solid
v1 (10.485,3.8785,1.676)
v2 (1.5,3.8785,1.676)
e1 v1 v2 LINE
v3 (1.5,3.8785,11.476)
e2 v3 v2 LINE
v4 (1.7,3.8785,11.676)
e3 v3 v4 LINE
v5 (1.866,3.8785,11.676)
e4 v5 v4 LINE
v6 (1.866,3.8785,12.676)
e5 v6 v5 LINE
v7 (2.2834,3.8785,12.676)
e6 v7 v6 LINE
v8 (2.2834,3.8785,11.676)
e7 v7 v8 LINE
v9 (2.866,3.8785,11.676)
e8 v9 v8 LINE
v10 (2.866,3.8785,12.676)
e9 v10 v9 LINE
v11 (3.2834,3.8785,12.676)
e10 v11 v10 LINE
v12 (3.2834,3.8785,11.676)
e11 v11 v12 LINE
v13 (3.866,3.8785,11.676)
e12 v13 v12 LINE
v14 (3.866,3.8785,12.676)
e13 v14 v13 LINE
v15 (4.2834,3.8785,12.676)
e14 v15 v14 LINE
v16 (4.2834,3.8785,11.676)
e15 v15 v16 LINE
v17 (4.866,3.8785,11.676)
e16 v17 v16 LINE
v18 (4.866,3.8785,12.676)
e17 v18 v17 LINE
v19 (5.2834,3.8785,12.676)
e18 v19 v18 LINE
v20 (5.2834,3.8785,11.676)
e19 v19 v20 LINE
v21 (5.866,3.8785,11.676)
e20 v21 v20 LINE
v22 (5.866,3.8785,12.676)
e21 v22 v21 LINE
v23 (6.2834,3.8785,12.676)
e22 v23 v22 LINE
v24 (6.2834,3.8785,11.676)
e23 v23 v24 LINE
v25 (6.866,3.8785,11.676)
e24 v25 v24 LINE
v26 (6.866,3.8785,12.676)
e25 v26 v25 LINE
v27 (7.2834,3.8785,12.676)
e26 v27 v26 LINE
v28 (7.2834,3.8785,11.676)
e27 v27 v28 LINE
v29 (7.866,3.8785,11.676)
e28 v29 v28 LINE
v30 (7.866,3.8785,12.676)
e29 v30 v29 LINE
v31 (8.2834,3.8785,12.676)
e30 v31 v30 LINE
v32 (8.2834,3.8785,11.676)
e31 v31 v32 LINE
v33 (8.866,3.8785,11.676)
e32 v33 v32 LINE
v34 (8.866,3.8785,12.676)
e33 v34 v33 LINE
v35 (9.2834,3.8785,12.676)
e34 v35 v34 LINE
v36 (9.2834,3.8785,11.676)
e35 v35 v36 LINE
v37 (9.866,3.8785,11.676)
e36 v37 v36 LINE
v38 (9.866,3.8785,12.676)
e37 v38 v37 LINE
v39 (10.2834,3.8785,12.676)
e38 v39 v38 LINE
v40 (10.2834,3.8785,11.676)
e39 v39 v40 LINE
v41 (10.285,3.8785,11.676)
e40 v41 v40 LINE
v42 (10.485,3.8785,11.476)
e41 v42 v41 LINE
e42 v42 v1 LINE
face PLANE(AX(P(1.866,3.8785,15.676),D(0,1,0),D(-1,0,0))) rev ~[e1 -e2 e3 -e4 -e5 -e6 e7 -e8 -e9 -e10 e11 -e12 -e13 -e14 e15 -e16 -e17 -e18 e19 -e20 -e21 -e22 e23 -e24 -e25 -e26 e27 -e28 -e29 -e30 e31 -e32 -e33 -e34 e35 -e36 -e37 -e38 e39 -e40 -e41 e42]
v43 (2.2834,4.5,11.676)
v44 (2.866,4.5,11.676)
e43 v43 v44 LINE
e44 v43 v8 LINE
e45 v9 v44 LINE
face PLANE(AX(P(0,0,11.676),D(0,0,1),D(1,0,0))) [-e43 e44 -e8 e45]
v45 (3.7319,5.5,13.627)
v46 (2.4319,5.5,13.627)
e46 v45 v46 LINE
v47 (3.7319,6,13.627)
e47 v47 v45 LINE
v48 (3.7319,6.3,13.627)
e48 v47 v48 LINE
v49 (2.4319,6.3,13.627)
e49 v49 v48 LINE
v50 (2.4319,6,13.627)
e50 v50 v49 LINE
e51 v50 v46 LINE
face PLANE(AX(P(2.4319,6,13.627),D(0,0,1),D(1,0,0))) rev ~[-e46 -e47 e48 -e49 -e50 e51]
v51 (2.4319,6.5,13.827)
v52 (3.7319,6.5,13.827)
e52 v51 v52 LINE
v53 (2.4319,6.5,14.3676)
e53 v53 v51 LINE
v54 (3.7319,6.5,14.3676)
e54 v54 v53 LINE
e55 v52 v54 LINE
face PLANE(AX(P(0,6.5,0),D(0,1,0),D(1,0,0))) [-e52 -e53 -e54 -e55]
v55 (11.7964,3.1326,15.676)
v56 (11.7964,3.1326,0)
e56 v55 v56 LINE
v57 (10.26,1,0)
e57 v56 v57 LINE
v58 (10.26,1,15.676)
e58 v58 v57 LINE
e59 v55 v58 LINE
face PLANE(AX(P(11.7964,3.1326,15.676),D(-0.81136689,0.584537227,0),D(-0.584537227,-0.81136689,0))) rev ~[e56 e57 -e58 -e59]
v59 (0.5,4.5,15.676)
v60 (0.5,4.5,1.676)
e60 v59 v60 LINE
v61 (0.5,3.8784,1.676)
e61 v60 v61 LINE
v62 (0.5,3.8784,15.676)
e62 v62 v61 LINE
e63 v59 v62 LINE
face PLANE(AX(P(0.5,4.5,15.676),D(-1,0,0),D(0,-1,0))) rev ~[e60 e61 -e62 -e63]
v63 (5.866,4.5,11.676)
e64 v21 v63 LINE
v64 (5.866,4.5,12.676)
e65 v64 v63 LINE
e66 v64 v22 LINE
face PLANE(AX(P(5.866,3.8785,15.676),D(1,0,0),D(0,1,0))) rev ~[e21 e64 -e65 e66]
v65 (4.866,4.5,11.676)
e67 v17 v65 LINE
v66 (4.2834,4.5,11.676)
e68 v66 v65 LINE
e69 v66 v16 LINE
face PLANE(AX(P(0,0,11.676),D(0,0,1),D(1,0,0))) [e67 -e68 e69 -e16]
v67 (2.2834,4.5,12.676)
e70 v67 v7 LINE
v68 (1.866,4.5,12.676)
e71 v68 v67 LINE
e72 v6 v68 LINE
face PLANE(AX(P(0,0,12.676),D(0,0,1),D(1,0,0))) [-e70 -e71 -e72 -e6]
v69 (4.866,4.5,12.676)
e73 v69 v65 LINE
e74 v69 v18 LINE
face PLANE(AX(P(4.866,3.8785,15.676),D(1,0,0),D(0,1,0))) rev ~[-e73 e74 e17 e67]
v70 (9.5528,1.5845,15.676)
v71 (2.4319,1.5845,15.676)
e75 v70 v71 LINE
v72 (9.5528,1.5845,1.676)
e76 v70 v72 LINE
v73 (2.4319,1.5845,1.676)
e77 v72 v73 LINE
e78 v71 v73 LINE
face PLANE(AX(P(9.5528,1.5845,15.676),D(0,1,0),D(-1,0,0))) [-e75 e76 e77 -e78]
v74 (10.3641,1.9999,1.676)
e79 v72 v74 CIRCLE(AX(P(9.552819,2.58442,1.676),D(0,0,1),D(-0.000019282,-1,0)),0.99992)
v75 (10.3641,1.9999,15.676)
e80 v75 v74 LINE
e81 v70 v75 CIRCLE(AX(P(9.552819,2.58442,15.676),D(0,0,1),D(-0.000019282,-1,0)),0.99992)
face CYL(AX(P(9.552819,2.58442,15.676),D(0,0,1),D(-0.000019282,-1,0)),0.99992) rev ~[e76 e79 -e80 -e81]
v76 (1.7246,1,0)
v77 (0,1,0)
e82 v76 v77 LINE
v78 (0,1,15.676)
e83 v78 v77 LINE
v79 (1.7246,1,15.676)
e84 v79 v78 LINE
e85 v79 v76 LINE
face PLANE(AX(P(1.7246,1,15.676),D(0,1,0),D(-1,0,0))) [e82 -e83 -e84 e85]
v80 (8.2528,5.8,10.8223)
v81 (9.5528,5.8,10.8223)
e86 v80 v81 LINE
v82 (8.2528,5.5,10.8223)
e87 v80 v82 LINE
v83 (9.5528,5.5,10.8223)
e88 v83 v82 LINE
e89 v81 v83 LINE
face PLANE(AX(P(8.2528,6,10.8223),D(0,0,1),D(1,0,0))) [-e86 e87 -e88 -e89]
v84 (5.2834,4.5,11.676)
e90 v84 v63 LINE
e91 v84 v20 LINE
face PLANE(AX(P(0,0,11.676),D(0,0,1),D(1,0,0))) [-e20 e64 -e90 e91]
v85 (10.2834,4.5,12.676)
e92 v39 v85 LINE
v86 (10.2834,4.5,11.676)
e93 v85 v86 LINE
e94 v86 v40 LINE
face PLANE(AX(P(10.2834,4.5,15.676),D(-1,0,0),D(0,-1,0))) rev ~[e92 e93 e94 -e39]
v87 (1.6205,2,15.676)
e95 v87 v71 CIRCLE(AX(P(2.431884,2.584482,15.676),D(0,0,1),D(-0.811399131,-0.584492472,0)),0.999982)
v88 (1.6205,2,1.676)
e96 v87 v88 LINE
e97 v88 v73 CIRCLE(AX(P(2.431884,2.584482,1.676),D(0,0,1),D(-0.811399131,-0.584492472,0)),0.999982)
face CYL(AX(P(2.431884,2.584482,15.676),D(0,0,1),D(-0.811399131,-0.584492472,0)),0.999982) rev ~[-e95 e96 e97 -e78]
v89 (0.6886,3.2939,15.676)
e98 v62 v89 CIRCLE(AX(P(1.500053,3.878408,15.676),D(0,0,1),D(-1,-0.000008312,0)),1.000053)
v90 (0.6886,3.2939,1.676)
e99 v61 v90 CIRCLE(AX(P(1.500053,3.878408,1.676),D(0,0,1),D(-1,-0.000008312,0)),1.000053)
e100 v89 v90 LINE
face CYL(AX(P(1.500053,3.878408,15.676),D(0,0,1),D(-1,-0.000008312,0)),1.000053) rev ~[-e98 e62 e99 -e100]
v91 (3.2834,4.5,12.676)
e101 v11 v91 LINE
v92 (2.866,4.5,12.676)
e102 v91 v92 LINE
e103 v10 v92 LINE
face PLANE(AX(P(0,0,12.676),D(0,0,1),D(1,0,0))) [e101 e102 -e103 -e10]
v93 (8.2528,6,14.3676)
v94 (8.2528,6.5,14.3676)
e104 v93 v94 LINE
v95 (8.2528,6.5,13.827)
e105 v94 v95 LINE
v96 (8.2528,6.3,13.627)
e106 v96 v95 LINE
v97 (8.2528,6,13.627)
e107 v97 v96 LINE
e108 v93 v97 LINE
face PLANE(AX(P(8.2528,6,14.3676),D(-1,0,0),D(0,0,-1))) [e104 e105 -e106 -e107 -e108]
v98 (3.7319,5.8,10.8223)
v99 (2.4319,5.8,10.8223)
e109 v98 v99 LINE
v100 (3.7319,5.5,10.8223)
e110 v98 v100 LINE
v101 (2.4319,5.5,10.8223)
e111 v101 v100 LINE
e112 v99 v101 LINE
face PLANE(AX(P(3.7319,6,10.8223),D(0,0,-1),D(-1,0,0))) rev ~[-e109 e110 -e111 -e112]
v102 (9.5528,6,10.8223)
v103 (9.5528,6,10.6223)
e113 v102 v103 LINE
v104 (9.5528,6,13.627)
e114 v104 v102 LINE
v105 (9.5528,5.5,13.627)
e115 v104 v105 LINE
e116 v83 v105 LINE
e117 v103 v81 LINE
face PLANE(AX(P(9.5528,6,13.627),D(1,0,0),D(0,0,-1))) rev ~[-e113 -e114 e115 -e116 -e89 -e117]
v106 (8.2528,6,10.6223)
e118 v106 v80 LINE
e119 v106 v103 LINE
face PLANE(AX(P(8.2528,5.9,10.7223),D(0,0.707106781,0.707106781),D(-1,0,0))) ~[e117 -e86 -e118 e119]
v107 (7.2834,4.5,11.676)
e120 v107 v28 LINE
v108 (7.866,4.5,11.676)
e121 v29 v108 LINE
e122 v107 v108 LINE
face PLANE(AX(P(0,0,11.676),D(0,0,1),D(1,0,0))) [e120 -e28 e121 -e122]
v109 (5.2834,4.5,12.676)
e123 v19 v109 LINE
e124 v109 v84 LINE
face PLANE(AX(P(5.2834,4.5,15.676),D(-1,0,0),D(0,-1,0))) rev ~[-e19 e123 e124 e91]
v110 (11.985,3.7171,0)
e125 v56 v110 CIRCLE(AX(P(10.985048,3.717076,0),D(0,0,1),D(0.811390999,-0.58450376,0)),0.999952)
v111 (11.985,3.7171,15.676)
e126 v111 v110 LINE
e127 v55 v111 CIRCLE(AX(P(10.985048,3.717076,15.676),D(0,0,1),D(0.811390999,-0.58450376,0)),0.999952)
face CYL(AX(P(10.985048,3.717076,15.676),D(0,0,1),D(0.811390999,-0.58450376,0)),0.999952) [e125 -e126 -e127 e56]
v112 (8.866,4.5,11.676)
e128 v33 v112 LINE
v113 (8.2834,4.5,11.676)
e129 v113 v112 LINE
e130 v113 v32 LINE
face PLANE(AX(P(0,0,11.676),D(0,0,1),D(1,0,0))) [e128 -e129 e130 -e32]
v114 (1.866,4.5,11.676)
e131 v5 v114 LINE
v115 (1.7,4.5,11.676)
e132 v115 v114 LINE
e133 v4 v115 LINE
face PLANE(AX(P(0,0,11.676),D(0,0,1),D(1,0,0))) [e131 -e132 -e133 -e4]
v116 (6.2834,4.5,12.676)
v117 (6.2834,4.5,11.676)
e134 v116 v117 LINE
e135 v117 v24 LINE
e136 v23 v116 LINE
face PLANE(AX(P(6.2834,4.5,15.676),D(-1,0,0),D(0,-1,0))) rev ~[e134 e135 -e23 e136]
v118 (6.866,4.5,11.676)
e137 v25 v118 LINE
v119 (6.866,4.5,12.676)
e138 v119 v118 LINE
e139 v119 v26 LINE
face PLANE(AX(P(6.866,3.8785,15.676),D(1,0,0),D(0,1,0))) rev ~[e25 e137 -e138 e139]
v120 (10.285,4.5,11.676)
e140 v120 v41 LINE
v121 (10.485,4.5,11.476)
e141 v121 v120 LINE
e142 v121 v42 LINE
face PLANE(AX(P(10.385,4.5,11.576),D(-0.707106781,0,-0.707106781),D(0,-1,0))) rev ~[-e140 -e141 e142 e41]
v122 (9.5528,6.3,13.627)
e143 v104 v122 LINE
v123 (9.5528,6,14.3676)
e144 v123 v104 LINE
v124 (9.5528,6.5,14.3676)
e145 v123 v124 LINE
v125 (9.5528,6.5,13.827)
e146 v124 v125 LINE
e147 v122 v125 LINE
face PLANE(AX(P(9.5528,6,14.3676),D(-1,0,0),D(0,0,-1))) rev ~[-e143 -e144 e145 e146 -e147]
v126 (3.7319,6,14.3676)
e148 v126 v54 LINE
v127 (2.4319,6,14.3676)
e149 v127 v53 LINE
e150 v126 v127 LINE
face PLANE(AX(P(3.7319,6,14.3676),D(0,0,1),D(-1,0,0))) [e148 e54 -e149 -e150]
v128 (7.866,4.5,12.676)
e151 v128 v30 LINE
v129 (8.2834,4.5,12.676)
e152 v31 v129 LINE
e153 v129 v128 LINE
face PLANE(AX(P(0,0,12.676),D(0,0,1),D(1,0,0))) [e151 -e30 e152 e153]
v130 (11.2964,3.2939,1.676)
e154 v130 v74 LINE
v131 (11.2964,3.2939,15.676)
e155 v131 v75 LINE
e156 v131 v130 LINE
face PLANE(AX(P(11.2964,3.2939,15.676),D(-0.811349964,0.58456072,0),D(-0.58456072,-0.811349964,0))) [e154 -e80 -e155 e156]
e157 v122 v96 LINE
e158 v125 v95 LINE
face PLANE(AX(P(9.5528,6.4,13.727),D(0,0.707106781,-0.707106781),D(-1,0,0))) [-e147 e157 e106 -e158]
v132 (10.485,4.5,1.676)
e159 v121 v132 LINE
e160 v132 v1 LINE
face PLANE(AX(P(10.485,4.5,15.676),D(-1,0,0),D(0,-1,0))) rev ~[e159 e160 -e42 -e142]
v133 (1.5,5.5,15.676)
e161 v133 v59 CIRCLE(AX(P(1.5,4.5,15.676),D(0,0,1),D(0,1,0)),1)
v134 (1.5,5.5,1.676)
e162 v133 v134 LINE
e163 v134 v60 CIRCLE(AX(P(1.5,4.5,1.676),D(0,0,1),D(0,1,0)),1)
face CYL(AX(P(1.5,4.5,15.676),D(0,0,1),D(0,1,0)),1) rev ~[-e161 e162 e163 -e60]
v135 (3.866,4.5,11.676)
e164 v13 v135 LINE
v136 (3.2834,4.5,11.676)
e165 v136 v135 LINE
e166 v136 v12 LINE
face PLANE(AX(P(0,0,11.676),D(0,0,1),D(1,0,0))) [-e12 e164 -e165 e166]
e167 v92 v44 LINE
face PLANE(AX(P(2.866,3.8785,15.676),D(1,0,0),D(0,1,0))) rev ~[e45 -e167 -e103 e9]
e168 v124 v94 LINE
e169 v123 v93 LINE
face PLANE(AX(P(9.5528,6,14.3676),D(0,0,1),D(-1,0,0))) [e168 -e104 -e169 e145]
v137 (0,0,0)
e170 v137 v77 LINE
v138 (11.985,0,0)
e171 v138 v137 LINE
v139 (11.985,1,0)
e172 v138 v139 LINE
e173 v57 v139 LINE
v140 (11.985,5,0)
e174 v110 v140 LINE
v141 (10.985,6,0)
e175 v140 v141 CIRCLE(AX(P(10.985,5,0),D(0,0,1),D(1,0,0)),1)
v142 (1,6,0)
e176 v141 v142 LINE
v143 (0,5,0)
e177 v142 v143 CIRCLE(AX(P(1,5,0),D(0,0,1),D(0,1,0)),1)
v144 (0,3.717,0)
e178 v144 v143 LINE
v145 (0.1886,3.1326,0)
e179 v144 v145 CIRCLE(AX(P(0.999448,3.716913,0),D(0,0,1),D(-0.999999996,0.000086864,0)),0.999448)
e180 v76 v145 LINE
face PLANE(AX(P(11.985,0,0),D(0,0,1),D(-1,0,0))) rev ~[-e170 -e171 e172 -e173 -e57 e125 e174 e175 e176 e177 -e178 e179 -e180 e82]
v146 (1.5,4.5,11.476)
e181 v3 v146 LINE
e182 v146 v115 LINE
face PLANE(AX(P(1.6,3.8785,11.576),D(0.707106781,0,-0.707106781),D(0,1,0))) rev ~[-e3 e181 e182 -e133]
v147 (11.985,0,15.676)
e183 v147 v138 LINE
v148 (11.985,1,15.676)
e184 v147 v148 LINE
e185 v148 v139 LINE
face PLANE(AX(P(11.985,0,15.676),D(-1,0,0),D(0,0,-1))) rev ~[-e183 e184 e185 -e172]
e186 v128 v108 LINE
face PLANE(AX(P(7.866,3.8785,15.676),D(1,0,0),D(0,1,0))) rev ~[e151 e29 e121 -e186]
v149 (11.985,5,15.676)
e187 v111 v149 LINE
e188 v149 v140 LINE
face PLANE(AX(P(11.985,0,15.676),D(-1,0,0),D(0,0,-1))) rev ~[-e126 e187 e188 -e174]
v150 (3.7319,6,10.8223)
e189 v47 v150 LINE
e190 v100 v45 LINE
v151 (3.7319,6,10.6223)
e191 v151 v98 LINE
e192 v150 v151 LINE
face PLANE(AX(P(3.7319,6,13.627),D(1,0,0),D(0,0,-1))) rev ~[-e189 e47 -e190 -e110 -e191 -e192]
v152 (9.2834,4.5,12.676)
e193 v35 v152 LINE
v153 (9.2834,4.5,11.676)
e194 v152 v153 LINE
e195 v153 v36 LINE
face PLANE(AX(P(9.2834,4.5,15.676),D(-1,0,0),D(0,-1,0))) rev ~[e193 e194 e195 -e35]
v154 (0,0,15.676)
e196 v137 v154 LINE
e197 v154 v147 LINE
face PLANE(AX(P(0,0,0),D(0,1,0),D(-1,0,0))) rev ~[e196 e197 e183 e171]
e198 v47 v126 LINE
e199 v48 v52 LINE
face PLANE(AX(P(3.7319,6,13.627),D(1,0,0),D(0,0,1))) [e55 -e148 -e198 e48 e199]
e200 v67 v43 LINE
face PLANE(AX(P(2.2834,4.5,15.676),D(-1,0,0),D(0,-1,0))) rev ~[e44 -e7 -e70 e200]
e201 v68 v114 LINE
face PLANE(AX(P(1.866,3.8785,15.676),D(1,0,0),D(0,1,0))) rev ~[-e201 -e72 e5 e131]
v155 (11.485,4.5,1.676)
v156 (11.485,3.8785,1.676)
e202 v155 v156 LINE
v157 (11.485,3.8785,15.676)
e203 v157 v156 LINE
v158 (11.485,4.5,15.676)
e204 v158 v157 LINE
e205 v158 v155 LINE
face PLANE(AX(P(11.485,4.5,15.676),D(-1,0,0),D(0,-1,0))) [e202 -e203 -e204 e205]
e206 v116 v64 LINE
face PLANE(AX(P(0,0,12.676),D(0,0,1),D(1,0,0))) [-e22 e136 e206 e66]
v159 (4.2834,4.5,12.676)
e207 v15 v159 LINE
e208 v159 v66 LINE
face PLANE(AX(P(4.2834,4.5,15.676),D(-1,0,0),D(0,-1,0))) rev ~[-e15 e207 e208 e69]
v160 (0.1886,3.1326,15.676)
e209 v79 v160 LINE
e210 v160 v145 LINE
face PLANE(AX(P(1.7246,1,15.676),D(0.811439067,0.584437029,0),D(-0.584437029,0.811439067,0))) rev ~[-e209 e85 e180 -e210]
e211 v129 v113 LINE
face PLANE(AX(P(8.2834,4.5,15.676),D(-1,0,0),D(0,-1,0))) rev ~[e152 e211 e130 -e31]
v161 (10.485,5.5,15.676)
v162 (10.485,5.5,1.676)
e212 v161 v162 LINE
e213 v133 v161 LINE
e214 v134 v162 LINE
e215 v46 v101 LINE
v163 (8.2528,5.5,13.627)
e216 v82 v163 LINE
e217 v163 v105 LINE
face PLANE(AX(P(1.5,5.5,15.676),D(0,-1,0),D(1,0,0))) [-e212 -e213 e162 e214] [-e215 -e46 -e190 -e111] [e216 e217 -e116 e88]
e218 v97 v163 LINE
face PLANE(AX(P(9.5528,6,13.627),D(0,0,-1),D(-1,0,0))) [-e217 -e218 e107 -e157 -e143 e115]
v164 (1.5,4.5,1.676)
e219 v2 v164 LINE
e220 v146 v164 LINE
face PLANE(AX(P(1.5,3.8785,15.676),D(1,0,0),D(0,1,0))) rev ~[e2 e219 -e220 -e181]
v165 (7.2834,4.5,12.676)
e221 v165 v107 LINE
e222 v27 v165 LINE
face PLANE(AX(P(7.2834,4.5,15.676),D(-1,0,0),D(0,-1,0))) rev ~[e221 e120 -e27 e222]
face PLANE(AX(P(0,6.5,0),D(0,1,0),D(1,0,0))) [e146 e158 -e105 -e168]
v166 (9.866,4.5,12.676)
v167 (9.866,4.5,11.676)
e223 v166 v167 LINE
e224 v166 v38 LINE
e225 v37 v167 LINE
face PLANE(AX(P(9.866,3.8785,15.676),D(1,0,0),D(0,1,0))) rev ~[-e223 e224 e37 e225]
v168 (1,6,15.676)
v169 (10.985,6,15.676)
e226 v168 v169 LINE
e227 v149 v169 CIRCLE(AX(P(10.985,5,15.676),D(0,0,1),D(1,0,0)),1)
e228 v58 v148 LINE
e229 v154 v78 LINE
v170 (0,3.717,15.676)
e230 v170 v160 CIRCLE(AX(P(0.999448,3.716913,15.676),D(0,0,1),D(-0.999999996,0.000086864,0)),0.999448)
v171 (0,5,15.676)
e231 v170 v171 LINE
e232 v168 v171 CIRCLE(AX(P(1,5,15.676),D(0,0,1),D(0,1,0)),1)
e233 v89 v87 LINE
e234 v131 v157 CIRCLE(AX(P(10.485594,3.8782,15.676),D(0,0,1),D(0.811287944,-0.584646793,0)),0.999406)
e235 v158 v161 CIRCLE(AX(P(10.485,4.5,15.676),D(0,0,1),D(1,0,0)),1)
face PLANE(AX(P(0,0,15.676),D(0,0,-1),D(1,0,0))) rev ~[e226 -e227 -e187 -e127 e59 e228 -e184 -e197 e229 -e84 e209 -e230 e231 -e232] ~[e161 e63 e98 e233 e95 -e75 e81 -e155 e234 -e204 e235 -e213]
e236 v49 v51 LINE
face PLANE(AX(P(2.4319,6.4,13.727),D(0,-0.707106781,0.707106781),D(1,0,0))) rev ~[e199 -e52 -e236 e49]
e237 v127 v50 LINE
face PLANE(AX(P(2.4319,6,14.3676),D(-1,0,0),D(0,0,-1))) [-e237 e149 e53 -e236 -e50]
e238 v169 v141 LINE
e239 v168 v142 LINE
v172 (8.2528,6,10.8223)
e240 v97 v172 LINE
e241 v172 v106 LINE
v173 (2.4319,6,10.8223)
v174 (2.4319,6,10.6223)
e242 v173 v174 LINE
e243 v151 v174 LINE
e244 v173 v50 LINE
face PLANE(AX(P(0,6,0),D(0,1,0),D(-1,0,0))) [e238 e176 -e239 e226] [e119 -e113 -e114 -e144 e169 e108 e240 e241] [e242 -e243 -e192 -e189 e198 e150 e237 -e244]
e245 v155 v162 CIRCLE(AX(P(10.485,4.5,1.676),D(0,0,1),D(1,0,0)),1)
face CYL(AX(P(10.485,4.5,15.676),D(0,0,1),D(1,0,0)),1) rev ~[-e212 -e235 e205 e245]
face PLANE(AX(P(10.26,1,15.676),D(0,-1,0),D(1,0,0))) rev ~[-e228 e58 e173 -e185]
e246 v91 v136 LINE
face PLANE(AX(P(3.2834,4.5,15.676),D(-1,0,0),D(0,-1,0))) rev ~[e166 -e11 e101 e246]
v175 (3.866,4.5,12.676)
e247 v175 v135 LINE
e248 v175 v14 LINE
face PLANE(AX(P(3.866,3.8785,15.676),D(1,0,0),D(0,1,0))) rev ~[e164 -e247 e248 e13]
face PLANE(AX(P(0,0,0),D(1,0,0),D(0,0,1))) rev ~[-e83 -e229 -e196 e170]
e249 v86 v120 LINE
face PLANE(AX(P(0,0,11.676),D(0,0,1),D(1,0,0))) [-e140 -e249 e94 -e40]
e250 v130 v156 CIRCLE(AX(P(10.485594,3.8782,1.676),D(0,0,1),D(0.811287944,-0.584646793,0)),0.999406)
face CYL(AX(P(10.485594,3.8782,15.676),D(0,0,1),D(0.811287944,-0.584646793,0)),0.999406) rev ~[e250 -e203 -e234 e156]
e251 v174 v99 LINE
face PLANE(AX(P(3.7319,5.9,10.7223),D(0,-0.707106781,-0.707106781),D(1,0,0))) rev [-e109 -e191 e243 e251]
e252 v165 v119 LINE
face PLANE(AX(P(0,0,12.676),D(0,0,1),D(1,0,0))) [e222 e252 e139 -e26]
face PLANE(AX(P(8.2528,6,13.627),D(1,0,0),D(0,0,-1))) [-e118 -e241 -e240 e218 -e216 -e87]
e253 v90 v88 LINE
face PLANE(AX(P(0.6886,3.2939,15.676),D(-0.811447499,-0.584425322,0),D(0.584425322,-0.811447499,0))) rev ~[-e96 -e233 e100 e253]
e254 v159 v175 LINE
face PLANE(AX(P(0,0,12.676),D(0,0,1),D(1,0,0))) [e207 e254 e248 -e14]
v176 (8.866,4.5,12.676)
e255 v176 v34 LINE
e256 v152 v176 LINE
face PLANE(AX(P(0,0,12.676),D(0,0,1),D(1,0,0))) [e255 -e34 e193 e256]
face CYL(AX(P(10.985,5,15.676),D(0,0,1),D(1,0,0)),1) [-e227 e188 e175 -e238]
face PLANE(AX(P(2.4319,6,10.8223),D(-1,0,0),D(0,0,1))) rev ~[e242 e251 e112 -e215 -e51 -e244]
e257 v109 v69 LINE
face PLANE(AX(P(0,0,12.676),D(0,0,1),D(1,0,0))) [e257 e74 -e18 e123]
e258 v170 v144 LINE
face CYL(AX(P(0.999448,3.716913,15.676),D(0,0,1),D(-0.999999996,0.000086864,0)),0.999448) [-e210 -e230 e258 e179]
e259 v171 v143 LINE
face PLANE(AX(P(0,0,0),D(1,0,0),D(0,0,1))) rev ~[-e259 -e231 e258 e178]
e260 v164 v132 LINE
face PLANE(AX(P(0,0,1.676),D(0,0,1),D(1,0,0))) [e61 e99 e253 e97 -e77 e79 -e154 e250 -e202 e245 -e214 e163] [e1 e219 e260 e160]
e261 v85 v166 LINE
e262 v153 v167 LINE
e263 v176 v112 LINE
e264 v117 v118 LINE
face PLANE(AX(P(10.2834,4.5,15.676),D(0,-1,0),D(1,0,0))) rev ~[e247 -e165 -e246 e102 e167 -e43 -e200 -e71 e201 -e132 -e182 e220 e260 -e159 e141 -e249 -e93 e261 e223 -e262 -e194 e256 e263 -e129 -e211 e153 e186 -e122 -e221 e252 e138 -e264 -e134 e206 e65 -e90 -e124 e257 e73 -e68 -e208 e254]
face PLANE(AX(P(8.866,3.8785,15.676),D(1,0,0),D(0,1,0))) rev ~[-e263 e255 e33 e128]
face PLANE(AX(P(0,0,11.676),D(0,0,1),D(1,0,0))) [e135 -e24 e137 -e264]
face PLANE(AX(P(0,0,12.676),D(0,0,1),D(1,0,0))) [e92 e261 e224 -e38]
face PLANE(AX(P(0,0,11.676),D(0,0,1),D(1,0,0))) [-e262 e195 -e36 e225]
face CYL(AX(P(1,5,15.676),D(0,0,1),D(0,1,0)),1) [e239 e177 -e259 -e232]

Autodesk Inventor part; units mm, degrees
ref_plane "YZ Plane" through (0, 0, 0) normal (1, 0, 0) x (0, 1, 0)
ref_plane "XZ Plane" through (0, 0, 0) normal (0, 1, 0) x (-1, 0, 0)
ref_plane "XY Plane" through (0, 0, 0) normal (0, 0, 1) x (1, 0, 0)
sketch "Sketch1" plane through (0, 0, 0) normal (0, 1, 0) x (-1, 0, 0)
  line L0 (0, 0) -> (0, 15.676)
  line L1 (0, 15.676) -> (-11.985, 15.676)
  line L2 (-11.985, 15.676) -> (-11.985, 0)
  line L3 (-11.985, 0) -> (0, 0)
  dimension "d1" = 15.676
  dimension "d2" = 11.985
extrude "Extrusion1" add sketch "Sketch1" along normal blind 6
sketch "Sketch2" plane through (0, 0, 15.676) normal (0, 0, 1) x (1, 0, 0)
  line L0 (11.985, 0) -> (0, 0) projected
  line L1 (0, 0) -> (0, 6) projected
  line L2 (11.985, 0) -> (11.985, 6) projected
  line L3 (1.7246, 1) -> (10.26, 1)
  line L4 (1.7246, 1) -> (0.1886, 3.1326)
  line L5 (11.7964, 3.1326) -> (10.26, 1)
  line L6 (0, 3.717) -> (0, 5)
  line L7 (1, 6) -> (10.985, 6)
  line L8 (11.985, 5) -> (11.985, 3.7171)
  line L9 (1.7246, 1) -> (0, 1)
  line L10 (10.26, 1) -> (11.985, 1)
  arc A0 (1, 6) -> (0, 5) centre (1, 5) ccw
  arc A1 (11.985, 5) -> (10.985, 6) centre (10.985, 5) ccw
  line L11 (1, 6) -> (10.985, 6)
  line L12 (11.985, 6) -> (0, 6) projected
  arc A2 (0, 3.717) -> (0.1886, 3.1326) centre (1, 3.717) ccw
  arc A3 (11.7964, 3.1326) -> (11.985, 3.7171) centre (10.985, 3.7171) ccw
  line L13 (0, 5) -> (0.5, 5)
  arc A4 (1.5, 5.5) -> (0.5, 4.5) centre (1.5, 4.5) ccw
  line L14 (1.5, 5.5) -> (10.485, 5.5)
  arc A5 (11.485, 4.5) -> (10.485, 5.5) centre (10.485, 4.5) ccw
  line L15 (0.5, 4.5) -> (0.5, 3.8784)
  line L16 (0.6886, 3.2939) -> (1.6205, 2)
  arc A6 (0.5, 3.8784) -> (0.6886, 3.2939) centre (1.5, 3.8784) ccw
  line L17 (11.2964, 3.2939) -> (10.3641, 1.9999)
  line L18 (9.5528, 1.5845) -> (2.4319, 1.5845)
  line L19 (11.485, 4.5) -> (11.485, 3.8785)
  arc A7 (11.2964, 3.2939) -> (11.485, 3.8785) centre (10.485, 3.8785) ccw
  arc A8 (1.6205, 2) -> (2.4319, 1.5845) centre (2.4319, 2.5845) ccw
  arc A9 (9.5528, 1.5845) -> (10.3641, 1.9999) centre (9.5528, 2.5845) ccw
  line L20 (1.5, 4.5) -> (10.485, 4.5)
  line L21 (10.485, 4.5) -> (10.485, 3.8785)
  line L22 (10.485, 3.8785) -> (1.5, 3.8785)
  line L23 (1.5, 3.8785) -> (1.5, 4.5)
  line L24 (1.866, 4.5) -> (2.2834, 4.5)
  line L25 (2.2834, 4.5) -> (2.2834, 3.8785)
  line L26 (2.2834, 3.8785) -> (1.866, 3.8785)
  line L27 (1.866, 3.8785) -> (1.866, 4.5)
  line L28 (3.2834, 4.5) -> (3.2834, 3.8785)
  line L29 (2.866, 4.5) -> (3.2834, 4.5)
  line L30 (2.866, 3.8785) -> (2.866, 4.5)
  line L31 (3.2834, 3.8785) -> (2.866, 3.8785)
  line L32 (4.2834, 4.5) -> (4.2834, 3.8785)
  line L33 (3.866, 4.5) -> (4.2834, 4.5)
  line L34 (3.866, 3.8785) -> (3.866, 4.5)
  line L35 (4.2834, 3.8785) -> (3.866, 3.8785)
  line L36 (5.2834, 4.5) -> (5.2834, 3.8785)
  line L37 (4.866, 4.5) -> (5.2834, 4.5)
  line L38 (4.866, 3.8785) -> (4.866, 4.5)
  line L39 (5.2834, 3.8785) -> (4.866, 3.8785)
  line L40 (6.2834, 4.5) -> (6.2834, 3.8785)
  line L41 (5.866, 4.5) -> (6.2834, 4.5)
  line L42 (5.866, 3.8785) -> (5.866, 4.5)
  line L43 (6.2834, 3.8785) -> (5.866, 3.8785)
  line L44 (7.2834, 4.5) -> (7.2834, 3.8785)
  line L45 (6.866, 4.5) -> (7.2834, 4.5)
  line L46 (6.866, 3.8785) -> (6.866, 4.5)
  line L47 (7.2834, 3.8785) -> (6.866, 3.8785)
  line L48 (8.2834, 4.5) -> (8.2834, 3.8785)
  line L49 (7.866, 4.5) -> (8.2834, 4.5)
  line L50 (7.866, 3.8785) -> (7.866, 4.5)
  line L51 (8.2834, 3.8785) -> (7.866, 3.8785)
  line L52 (9.2834, 4.5) -> (9.2834, 3.8785)
  line L53 (8.866, 4.5) -> (9.2834, 4.5)
  line L54 (8.866, 3.8785) -> (8.866, 4.5)
  line L55 (9.2834, 3.8785) -> (8.866, 3.8785)
  line L56 (10.2834, 4.5) -> (10.2834, 3.8785)
  line L57 (9.866, 4.5) -> (10.2834, 4.5)
  line L58 (9.866, 3.8785) -> (9.866, 4.5)
  line L59 (10.2834, 3.8785) -> (9.866, 3.8785)
  line L60 (0, 6) -> (1, 6)
  line L61 (0, 6) -> (0, 5)
  line L62 (10.985, 6) -> (11.985, 6)
  line L63 (11.985, 6) -> (11.985, 5)
  line L64 (11.985, 3.7171) -> (11.985, 1)
  line L65 (0, 3.717) -> (0, 1)
  point P0 (0, 3.3944)
  point P1 (11.985, 3.3944)
  dimension "d7" = 1
  dimension "d8" = 1
  dimension "d9" = 1
  dimension "d12" = 1
  dimension "d14" = 1
  dimension "d16" = 1
  dimension "d18" = 1
  dimension "d19" = 1
  dimension "d20" = 1
  dimension "d23" = 1
extrude "Extrusion2" cut sketch "Sketch2" against normal blind 16 contours L10 L5 A3 L2 | L1 A2 L4 L9 | A1 L12 L2 | L1 L12 A0
extrude "Extrusion3" cut sketch "Sketch2" against normal blind 14 contours L14 A5 L19 A7 L17 A9 L18 A8 L16 A6 L15 A4
extrude "Extrusion4" cut sketch "Sketch2" against normal blind 4 contours L20 L27 L22 L23 | L20 L30 L22 L25 | L20 L34 L22 L28 | L20 L38 L22 L32 | L20 L42 L22 L36 | L20 L46 L22 L40 | L20 L50 L22 L44 | L20 L54 L22 L48 | L20 L58 L22 L52 | L20 L21 L22 L56
extrude "Extrusion5" cut sketch "Sketch2" against normal blind 3 contours L20 L25 L22 L27 | L20 L28 L22 L30 | L20 L34 L22 L28 | L20 L32 L22 L34 | L20 L38 L22 L32 | L20 L36 L22 L38 | L20 L42 L22 L36 | L20 L40 L22 L42 | L20 L46 L22 L40 | L20 L44 L22 L46 | L20 L50 L22 L44 | L20 L48 L22 L50 | L20 L54 L22 L48 | L20 L52 L22 L54 | L20 L58 L22 L52 | L20 L56 L22 L58 | L20 L21 L22 L56
sketch "Sketch3" plane through (0, 6, 0) normal (0, 1, 0) x (1, 0, 0)
  line L0 (2.4319, -10.8223) -> (2.4319, -13.627)
  line L1 (2.4319, -15.676) -> (2.4319, -1.676) projected
  line L2 (2.4319, -10.8223) -> (2.4319, -13.627)
  line L3 (2.4319, -13.627) -> (3.7319, -13.627)
  line L4 (3.7319, -13.627) -> (3.7319, -10.8223)
  line L5 (3.7319, -10.8223) -> (2.4319, -10.8223)
  line L6 (9.5528, -15.676) -> (9.5528, -1.676) projected
  line L7 (9.5528, -10.8223) -> (9.5528, -13.627)
  line L8 (9.5528, -13.627) -> (8.2528, -13.627)
  line L9 (8.2528, -13.627) -> (8.2528, -10.8223)
  line L10 (8.2528, -10.8223) -> (9.5528, -10.8223)
  line L11 (2.4319, -13.627) -> (3.7319, -13.627)
  line L12 (3.7319, -13.627) -> (3.7319, -14.3676)
  line L13 (3.7319, -14.3676) -> (2.4319, -14.3676)
  line L14 (2.4319, -14.3676) -> (2.4319, -13.627)
  line L15 (8.2528, -13.627) -> (9.5528, -13.627)
  line L16 (9.5528, -13.627) -> (9.5528, -14.3676)
  line L17 (9.5528, -14.3676) -> (8.2528, -14.3676)
  line L18 (8.2528, -14.3676) -> (8.2528, -13.627)
  point P0 (0, 0)
  dimension "d38" = 1.3
  dimension "d40" = 1.3
extrude "Extrusion6" cut sketch "Sketch3" against normal blind 1 contours L5 L4 L3 L0 | L8 L9 L10 L6
extrude "Extrusion7" add sketch "Sketch3" along normal blind 0.5 contours L3 L12 L13 L1 | L17 L18 L8 L6
chamfer "Chamfer1" distance 0.2 angle 45 3 edges at (1.5, 4.1892, 11.676) (10.485, 4.1892, 11.676) (8.9028, 6.5, 13.627)
chamfer "Chamfer2" distance 0.2 angle 45 1 edges at (3.0819, 6.5, 13.627)
chamfer "Chamfer3" distance 0.2 angle 45 2 edges at (3.0819, 6, 10.8223) (8.9028, 6, 10.8223)
properties part number "Port 3"
